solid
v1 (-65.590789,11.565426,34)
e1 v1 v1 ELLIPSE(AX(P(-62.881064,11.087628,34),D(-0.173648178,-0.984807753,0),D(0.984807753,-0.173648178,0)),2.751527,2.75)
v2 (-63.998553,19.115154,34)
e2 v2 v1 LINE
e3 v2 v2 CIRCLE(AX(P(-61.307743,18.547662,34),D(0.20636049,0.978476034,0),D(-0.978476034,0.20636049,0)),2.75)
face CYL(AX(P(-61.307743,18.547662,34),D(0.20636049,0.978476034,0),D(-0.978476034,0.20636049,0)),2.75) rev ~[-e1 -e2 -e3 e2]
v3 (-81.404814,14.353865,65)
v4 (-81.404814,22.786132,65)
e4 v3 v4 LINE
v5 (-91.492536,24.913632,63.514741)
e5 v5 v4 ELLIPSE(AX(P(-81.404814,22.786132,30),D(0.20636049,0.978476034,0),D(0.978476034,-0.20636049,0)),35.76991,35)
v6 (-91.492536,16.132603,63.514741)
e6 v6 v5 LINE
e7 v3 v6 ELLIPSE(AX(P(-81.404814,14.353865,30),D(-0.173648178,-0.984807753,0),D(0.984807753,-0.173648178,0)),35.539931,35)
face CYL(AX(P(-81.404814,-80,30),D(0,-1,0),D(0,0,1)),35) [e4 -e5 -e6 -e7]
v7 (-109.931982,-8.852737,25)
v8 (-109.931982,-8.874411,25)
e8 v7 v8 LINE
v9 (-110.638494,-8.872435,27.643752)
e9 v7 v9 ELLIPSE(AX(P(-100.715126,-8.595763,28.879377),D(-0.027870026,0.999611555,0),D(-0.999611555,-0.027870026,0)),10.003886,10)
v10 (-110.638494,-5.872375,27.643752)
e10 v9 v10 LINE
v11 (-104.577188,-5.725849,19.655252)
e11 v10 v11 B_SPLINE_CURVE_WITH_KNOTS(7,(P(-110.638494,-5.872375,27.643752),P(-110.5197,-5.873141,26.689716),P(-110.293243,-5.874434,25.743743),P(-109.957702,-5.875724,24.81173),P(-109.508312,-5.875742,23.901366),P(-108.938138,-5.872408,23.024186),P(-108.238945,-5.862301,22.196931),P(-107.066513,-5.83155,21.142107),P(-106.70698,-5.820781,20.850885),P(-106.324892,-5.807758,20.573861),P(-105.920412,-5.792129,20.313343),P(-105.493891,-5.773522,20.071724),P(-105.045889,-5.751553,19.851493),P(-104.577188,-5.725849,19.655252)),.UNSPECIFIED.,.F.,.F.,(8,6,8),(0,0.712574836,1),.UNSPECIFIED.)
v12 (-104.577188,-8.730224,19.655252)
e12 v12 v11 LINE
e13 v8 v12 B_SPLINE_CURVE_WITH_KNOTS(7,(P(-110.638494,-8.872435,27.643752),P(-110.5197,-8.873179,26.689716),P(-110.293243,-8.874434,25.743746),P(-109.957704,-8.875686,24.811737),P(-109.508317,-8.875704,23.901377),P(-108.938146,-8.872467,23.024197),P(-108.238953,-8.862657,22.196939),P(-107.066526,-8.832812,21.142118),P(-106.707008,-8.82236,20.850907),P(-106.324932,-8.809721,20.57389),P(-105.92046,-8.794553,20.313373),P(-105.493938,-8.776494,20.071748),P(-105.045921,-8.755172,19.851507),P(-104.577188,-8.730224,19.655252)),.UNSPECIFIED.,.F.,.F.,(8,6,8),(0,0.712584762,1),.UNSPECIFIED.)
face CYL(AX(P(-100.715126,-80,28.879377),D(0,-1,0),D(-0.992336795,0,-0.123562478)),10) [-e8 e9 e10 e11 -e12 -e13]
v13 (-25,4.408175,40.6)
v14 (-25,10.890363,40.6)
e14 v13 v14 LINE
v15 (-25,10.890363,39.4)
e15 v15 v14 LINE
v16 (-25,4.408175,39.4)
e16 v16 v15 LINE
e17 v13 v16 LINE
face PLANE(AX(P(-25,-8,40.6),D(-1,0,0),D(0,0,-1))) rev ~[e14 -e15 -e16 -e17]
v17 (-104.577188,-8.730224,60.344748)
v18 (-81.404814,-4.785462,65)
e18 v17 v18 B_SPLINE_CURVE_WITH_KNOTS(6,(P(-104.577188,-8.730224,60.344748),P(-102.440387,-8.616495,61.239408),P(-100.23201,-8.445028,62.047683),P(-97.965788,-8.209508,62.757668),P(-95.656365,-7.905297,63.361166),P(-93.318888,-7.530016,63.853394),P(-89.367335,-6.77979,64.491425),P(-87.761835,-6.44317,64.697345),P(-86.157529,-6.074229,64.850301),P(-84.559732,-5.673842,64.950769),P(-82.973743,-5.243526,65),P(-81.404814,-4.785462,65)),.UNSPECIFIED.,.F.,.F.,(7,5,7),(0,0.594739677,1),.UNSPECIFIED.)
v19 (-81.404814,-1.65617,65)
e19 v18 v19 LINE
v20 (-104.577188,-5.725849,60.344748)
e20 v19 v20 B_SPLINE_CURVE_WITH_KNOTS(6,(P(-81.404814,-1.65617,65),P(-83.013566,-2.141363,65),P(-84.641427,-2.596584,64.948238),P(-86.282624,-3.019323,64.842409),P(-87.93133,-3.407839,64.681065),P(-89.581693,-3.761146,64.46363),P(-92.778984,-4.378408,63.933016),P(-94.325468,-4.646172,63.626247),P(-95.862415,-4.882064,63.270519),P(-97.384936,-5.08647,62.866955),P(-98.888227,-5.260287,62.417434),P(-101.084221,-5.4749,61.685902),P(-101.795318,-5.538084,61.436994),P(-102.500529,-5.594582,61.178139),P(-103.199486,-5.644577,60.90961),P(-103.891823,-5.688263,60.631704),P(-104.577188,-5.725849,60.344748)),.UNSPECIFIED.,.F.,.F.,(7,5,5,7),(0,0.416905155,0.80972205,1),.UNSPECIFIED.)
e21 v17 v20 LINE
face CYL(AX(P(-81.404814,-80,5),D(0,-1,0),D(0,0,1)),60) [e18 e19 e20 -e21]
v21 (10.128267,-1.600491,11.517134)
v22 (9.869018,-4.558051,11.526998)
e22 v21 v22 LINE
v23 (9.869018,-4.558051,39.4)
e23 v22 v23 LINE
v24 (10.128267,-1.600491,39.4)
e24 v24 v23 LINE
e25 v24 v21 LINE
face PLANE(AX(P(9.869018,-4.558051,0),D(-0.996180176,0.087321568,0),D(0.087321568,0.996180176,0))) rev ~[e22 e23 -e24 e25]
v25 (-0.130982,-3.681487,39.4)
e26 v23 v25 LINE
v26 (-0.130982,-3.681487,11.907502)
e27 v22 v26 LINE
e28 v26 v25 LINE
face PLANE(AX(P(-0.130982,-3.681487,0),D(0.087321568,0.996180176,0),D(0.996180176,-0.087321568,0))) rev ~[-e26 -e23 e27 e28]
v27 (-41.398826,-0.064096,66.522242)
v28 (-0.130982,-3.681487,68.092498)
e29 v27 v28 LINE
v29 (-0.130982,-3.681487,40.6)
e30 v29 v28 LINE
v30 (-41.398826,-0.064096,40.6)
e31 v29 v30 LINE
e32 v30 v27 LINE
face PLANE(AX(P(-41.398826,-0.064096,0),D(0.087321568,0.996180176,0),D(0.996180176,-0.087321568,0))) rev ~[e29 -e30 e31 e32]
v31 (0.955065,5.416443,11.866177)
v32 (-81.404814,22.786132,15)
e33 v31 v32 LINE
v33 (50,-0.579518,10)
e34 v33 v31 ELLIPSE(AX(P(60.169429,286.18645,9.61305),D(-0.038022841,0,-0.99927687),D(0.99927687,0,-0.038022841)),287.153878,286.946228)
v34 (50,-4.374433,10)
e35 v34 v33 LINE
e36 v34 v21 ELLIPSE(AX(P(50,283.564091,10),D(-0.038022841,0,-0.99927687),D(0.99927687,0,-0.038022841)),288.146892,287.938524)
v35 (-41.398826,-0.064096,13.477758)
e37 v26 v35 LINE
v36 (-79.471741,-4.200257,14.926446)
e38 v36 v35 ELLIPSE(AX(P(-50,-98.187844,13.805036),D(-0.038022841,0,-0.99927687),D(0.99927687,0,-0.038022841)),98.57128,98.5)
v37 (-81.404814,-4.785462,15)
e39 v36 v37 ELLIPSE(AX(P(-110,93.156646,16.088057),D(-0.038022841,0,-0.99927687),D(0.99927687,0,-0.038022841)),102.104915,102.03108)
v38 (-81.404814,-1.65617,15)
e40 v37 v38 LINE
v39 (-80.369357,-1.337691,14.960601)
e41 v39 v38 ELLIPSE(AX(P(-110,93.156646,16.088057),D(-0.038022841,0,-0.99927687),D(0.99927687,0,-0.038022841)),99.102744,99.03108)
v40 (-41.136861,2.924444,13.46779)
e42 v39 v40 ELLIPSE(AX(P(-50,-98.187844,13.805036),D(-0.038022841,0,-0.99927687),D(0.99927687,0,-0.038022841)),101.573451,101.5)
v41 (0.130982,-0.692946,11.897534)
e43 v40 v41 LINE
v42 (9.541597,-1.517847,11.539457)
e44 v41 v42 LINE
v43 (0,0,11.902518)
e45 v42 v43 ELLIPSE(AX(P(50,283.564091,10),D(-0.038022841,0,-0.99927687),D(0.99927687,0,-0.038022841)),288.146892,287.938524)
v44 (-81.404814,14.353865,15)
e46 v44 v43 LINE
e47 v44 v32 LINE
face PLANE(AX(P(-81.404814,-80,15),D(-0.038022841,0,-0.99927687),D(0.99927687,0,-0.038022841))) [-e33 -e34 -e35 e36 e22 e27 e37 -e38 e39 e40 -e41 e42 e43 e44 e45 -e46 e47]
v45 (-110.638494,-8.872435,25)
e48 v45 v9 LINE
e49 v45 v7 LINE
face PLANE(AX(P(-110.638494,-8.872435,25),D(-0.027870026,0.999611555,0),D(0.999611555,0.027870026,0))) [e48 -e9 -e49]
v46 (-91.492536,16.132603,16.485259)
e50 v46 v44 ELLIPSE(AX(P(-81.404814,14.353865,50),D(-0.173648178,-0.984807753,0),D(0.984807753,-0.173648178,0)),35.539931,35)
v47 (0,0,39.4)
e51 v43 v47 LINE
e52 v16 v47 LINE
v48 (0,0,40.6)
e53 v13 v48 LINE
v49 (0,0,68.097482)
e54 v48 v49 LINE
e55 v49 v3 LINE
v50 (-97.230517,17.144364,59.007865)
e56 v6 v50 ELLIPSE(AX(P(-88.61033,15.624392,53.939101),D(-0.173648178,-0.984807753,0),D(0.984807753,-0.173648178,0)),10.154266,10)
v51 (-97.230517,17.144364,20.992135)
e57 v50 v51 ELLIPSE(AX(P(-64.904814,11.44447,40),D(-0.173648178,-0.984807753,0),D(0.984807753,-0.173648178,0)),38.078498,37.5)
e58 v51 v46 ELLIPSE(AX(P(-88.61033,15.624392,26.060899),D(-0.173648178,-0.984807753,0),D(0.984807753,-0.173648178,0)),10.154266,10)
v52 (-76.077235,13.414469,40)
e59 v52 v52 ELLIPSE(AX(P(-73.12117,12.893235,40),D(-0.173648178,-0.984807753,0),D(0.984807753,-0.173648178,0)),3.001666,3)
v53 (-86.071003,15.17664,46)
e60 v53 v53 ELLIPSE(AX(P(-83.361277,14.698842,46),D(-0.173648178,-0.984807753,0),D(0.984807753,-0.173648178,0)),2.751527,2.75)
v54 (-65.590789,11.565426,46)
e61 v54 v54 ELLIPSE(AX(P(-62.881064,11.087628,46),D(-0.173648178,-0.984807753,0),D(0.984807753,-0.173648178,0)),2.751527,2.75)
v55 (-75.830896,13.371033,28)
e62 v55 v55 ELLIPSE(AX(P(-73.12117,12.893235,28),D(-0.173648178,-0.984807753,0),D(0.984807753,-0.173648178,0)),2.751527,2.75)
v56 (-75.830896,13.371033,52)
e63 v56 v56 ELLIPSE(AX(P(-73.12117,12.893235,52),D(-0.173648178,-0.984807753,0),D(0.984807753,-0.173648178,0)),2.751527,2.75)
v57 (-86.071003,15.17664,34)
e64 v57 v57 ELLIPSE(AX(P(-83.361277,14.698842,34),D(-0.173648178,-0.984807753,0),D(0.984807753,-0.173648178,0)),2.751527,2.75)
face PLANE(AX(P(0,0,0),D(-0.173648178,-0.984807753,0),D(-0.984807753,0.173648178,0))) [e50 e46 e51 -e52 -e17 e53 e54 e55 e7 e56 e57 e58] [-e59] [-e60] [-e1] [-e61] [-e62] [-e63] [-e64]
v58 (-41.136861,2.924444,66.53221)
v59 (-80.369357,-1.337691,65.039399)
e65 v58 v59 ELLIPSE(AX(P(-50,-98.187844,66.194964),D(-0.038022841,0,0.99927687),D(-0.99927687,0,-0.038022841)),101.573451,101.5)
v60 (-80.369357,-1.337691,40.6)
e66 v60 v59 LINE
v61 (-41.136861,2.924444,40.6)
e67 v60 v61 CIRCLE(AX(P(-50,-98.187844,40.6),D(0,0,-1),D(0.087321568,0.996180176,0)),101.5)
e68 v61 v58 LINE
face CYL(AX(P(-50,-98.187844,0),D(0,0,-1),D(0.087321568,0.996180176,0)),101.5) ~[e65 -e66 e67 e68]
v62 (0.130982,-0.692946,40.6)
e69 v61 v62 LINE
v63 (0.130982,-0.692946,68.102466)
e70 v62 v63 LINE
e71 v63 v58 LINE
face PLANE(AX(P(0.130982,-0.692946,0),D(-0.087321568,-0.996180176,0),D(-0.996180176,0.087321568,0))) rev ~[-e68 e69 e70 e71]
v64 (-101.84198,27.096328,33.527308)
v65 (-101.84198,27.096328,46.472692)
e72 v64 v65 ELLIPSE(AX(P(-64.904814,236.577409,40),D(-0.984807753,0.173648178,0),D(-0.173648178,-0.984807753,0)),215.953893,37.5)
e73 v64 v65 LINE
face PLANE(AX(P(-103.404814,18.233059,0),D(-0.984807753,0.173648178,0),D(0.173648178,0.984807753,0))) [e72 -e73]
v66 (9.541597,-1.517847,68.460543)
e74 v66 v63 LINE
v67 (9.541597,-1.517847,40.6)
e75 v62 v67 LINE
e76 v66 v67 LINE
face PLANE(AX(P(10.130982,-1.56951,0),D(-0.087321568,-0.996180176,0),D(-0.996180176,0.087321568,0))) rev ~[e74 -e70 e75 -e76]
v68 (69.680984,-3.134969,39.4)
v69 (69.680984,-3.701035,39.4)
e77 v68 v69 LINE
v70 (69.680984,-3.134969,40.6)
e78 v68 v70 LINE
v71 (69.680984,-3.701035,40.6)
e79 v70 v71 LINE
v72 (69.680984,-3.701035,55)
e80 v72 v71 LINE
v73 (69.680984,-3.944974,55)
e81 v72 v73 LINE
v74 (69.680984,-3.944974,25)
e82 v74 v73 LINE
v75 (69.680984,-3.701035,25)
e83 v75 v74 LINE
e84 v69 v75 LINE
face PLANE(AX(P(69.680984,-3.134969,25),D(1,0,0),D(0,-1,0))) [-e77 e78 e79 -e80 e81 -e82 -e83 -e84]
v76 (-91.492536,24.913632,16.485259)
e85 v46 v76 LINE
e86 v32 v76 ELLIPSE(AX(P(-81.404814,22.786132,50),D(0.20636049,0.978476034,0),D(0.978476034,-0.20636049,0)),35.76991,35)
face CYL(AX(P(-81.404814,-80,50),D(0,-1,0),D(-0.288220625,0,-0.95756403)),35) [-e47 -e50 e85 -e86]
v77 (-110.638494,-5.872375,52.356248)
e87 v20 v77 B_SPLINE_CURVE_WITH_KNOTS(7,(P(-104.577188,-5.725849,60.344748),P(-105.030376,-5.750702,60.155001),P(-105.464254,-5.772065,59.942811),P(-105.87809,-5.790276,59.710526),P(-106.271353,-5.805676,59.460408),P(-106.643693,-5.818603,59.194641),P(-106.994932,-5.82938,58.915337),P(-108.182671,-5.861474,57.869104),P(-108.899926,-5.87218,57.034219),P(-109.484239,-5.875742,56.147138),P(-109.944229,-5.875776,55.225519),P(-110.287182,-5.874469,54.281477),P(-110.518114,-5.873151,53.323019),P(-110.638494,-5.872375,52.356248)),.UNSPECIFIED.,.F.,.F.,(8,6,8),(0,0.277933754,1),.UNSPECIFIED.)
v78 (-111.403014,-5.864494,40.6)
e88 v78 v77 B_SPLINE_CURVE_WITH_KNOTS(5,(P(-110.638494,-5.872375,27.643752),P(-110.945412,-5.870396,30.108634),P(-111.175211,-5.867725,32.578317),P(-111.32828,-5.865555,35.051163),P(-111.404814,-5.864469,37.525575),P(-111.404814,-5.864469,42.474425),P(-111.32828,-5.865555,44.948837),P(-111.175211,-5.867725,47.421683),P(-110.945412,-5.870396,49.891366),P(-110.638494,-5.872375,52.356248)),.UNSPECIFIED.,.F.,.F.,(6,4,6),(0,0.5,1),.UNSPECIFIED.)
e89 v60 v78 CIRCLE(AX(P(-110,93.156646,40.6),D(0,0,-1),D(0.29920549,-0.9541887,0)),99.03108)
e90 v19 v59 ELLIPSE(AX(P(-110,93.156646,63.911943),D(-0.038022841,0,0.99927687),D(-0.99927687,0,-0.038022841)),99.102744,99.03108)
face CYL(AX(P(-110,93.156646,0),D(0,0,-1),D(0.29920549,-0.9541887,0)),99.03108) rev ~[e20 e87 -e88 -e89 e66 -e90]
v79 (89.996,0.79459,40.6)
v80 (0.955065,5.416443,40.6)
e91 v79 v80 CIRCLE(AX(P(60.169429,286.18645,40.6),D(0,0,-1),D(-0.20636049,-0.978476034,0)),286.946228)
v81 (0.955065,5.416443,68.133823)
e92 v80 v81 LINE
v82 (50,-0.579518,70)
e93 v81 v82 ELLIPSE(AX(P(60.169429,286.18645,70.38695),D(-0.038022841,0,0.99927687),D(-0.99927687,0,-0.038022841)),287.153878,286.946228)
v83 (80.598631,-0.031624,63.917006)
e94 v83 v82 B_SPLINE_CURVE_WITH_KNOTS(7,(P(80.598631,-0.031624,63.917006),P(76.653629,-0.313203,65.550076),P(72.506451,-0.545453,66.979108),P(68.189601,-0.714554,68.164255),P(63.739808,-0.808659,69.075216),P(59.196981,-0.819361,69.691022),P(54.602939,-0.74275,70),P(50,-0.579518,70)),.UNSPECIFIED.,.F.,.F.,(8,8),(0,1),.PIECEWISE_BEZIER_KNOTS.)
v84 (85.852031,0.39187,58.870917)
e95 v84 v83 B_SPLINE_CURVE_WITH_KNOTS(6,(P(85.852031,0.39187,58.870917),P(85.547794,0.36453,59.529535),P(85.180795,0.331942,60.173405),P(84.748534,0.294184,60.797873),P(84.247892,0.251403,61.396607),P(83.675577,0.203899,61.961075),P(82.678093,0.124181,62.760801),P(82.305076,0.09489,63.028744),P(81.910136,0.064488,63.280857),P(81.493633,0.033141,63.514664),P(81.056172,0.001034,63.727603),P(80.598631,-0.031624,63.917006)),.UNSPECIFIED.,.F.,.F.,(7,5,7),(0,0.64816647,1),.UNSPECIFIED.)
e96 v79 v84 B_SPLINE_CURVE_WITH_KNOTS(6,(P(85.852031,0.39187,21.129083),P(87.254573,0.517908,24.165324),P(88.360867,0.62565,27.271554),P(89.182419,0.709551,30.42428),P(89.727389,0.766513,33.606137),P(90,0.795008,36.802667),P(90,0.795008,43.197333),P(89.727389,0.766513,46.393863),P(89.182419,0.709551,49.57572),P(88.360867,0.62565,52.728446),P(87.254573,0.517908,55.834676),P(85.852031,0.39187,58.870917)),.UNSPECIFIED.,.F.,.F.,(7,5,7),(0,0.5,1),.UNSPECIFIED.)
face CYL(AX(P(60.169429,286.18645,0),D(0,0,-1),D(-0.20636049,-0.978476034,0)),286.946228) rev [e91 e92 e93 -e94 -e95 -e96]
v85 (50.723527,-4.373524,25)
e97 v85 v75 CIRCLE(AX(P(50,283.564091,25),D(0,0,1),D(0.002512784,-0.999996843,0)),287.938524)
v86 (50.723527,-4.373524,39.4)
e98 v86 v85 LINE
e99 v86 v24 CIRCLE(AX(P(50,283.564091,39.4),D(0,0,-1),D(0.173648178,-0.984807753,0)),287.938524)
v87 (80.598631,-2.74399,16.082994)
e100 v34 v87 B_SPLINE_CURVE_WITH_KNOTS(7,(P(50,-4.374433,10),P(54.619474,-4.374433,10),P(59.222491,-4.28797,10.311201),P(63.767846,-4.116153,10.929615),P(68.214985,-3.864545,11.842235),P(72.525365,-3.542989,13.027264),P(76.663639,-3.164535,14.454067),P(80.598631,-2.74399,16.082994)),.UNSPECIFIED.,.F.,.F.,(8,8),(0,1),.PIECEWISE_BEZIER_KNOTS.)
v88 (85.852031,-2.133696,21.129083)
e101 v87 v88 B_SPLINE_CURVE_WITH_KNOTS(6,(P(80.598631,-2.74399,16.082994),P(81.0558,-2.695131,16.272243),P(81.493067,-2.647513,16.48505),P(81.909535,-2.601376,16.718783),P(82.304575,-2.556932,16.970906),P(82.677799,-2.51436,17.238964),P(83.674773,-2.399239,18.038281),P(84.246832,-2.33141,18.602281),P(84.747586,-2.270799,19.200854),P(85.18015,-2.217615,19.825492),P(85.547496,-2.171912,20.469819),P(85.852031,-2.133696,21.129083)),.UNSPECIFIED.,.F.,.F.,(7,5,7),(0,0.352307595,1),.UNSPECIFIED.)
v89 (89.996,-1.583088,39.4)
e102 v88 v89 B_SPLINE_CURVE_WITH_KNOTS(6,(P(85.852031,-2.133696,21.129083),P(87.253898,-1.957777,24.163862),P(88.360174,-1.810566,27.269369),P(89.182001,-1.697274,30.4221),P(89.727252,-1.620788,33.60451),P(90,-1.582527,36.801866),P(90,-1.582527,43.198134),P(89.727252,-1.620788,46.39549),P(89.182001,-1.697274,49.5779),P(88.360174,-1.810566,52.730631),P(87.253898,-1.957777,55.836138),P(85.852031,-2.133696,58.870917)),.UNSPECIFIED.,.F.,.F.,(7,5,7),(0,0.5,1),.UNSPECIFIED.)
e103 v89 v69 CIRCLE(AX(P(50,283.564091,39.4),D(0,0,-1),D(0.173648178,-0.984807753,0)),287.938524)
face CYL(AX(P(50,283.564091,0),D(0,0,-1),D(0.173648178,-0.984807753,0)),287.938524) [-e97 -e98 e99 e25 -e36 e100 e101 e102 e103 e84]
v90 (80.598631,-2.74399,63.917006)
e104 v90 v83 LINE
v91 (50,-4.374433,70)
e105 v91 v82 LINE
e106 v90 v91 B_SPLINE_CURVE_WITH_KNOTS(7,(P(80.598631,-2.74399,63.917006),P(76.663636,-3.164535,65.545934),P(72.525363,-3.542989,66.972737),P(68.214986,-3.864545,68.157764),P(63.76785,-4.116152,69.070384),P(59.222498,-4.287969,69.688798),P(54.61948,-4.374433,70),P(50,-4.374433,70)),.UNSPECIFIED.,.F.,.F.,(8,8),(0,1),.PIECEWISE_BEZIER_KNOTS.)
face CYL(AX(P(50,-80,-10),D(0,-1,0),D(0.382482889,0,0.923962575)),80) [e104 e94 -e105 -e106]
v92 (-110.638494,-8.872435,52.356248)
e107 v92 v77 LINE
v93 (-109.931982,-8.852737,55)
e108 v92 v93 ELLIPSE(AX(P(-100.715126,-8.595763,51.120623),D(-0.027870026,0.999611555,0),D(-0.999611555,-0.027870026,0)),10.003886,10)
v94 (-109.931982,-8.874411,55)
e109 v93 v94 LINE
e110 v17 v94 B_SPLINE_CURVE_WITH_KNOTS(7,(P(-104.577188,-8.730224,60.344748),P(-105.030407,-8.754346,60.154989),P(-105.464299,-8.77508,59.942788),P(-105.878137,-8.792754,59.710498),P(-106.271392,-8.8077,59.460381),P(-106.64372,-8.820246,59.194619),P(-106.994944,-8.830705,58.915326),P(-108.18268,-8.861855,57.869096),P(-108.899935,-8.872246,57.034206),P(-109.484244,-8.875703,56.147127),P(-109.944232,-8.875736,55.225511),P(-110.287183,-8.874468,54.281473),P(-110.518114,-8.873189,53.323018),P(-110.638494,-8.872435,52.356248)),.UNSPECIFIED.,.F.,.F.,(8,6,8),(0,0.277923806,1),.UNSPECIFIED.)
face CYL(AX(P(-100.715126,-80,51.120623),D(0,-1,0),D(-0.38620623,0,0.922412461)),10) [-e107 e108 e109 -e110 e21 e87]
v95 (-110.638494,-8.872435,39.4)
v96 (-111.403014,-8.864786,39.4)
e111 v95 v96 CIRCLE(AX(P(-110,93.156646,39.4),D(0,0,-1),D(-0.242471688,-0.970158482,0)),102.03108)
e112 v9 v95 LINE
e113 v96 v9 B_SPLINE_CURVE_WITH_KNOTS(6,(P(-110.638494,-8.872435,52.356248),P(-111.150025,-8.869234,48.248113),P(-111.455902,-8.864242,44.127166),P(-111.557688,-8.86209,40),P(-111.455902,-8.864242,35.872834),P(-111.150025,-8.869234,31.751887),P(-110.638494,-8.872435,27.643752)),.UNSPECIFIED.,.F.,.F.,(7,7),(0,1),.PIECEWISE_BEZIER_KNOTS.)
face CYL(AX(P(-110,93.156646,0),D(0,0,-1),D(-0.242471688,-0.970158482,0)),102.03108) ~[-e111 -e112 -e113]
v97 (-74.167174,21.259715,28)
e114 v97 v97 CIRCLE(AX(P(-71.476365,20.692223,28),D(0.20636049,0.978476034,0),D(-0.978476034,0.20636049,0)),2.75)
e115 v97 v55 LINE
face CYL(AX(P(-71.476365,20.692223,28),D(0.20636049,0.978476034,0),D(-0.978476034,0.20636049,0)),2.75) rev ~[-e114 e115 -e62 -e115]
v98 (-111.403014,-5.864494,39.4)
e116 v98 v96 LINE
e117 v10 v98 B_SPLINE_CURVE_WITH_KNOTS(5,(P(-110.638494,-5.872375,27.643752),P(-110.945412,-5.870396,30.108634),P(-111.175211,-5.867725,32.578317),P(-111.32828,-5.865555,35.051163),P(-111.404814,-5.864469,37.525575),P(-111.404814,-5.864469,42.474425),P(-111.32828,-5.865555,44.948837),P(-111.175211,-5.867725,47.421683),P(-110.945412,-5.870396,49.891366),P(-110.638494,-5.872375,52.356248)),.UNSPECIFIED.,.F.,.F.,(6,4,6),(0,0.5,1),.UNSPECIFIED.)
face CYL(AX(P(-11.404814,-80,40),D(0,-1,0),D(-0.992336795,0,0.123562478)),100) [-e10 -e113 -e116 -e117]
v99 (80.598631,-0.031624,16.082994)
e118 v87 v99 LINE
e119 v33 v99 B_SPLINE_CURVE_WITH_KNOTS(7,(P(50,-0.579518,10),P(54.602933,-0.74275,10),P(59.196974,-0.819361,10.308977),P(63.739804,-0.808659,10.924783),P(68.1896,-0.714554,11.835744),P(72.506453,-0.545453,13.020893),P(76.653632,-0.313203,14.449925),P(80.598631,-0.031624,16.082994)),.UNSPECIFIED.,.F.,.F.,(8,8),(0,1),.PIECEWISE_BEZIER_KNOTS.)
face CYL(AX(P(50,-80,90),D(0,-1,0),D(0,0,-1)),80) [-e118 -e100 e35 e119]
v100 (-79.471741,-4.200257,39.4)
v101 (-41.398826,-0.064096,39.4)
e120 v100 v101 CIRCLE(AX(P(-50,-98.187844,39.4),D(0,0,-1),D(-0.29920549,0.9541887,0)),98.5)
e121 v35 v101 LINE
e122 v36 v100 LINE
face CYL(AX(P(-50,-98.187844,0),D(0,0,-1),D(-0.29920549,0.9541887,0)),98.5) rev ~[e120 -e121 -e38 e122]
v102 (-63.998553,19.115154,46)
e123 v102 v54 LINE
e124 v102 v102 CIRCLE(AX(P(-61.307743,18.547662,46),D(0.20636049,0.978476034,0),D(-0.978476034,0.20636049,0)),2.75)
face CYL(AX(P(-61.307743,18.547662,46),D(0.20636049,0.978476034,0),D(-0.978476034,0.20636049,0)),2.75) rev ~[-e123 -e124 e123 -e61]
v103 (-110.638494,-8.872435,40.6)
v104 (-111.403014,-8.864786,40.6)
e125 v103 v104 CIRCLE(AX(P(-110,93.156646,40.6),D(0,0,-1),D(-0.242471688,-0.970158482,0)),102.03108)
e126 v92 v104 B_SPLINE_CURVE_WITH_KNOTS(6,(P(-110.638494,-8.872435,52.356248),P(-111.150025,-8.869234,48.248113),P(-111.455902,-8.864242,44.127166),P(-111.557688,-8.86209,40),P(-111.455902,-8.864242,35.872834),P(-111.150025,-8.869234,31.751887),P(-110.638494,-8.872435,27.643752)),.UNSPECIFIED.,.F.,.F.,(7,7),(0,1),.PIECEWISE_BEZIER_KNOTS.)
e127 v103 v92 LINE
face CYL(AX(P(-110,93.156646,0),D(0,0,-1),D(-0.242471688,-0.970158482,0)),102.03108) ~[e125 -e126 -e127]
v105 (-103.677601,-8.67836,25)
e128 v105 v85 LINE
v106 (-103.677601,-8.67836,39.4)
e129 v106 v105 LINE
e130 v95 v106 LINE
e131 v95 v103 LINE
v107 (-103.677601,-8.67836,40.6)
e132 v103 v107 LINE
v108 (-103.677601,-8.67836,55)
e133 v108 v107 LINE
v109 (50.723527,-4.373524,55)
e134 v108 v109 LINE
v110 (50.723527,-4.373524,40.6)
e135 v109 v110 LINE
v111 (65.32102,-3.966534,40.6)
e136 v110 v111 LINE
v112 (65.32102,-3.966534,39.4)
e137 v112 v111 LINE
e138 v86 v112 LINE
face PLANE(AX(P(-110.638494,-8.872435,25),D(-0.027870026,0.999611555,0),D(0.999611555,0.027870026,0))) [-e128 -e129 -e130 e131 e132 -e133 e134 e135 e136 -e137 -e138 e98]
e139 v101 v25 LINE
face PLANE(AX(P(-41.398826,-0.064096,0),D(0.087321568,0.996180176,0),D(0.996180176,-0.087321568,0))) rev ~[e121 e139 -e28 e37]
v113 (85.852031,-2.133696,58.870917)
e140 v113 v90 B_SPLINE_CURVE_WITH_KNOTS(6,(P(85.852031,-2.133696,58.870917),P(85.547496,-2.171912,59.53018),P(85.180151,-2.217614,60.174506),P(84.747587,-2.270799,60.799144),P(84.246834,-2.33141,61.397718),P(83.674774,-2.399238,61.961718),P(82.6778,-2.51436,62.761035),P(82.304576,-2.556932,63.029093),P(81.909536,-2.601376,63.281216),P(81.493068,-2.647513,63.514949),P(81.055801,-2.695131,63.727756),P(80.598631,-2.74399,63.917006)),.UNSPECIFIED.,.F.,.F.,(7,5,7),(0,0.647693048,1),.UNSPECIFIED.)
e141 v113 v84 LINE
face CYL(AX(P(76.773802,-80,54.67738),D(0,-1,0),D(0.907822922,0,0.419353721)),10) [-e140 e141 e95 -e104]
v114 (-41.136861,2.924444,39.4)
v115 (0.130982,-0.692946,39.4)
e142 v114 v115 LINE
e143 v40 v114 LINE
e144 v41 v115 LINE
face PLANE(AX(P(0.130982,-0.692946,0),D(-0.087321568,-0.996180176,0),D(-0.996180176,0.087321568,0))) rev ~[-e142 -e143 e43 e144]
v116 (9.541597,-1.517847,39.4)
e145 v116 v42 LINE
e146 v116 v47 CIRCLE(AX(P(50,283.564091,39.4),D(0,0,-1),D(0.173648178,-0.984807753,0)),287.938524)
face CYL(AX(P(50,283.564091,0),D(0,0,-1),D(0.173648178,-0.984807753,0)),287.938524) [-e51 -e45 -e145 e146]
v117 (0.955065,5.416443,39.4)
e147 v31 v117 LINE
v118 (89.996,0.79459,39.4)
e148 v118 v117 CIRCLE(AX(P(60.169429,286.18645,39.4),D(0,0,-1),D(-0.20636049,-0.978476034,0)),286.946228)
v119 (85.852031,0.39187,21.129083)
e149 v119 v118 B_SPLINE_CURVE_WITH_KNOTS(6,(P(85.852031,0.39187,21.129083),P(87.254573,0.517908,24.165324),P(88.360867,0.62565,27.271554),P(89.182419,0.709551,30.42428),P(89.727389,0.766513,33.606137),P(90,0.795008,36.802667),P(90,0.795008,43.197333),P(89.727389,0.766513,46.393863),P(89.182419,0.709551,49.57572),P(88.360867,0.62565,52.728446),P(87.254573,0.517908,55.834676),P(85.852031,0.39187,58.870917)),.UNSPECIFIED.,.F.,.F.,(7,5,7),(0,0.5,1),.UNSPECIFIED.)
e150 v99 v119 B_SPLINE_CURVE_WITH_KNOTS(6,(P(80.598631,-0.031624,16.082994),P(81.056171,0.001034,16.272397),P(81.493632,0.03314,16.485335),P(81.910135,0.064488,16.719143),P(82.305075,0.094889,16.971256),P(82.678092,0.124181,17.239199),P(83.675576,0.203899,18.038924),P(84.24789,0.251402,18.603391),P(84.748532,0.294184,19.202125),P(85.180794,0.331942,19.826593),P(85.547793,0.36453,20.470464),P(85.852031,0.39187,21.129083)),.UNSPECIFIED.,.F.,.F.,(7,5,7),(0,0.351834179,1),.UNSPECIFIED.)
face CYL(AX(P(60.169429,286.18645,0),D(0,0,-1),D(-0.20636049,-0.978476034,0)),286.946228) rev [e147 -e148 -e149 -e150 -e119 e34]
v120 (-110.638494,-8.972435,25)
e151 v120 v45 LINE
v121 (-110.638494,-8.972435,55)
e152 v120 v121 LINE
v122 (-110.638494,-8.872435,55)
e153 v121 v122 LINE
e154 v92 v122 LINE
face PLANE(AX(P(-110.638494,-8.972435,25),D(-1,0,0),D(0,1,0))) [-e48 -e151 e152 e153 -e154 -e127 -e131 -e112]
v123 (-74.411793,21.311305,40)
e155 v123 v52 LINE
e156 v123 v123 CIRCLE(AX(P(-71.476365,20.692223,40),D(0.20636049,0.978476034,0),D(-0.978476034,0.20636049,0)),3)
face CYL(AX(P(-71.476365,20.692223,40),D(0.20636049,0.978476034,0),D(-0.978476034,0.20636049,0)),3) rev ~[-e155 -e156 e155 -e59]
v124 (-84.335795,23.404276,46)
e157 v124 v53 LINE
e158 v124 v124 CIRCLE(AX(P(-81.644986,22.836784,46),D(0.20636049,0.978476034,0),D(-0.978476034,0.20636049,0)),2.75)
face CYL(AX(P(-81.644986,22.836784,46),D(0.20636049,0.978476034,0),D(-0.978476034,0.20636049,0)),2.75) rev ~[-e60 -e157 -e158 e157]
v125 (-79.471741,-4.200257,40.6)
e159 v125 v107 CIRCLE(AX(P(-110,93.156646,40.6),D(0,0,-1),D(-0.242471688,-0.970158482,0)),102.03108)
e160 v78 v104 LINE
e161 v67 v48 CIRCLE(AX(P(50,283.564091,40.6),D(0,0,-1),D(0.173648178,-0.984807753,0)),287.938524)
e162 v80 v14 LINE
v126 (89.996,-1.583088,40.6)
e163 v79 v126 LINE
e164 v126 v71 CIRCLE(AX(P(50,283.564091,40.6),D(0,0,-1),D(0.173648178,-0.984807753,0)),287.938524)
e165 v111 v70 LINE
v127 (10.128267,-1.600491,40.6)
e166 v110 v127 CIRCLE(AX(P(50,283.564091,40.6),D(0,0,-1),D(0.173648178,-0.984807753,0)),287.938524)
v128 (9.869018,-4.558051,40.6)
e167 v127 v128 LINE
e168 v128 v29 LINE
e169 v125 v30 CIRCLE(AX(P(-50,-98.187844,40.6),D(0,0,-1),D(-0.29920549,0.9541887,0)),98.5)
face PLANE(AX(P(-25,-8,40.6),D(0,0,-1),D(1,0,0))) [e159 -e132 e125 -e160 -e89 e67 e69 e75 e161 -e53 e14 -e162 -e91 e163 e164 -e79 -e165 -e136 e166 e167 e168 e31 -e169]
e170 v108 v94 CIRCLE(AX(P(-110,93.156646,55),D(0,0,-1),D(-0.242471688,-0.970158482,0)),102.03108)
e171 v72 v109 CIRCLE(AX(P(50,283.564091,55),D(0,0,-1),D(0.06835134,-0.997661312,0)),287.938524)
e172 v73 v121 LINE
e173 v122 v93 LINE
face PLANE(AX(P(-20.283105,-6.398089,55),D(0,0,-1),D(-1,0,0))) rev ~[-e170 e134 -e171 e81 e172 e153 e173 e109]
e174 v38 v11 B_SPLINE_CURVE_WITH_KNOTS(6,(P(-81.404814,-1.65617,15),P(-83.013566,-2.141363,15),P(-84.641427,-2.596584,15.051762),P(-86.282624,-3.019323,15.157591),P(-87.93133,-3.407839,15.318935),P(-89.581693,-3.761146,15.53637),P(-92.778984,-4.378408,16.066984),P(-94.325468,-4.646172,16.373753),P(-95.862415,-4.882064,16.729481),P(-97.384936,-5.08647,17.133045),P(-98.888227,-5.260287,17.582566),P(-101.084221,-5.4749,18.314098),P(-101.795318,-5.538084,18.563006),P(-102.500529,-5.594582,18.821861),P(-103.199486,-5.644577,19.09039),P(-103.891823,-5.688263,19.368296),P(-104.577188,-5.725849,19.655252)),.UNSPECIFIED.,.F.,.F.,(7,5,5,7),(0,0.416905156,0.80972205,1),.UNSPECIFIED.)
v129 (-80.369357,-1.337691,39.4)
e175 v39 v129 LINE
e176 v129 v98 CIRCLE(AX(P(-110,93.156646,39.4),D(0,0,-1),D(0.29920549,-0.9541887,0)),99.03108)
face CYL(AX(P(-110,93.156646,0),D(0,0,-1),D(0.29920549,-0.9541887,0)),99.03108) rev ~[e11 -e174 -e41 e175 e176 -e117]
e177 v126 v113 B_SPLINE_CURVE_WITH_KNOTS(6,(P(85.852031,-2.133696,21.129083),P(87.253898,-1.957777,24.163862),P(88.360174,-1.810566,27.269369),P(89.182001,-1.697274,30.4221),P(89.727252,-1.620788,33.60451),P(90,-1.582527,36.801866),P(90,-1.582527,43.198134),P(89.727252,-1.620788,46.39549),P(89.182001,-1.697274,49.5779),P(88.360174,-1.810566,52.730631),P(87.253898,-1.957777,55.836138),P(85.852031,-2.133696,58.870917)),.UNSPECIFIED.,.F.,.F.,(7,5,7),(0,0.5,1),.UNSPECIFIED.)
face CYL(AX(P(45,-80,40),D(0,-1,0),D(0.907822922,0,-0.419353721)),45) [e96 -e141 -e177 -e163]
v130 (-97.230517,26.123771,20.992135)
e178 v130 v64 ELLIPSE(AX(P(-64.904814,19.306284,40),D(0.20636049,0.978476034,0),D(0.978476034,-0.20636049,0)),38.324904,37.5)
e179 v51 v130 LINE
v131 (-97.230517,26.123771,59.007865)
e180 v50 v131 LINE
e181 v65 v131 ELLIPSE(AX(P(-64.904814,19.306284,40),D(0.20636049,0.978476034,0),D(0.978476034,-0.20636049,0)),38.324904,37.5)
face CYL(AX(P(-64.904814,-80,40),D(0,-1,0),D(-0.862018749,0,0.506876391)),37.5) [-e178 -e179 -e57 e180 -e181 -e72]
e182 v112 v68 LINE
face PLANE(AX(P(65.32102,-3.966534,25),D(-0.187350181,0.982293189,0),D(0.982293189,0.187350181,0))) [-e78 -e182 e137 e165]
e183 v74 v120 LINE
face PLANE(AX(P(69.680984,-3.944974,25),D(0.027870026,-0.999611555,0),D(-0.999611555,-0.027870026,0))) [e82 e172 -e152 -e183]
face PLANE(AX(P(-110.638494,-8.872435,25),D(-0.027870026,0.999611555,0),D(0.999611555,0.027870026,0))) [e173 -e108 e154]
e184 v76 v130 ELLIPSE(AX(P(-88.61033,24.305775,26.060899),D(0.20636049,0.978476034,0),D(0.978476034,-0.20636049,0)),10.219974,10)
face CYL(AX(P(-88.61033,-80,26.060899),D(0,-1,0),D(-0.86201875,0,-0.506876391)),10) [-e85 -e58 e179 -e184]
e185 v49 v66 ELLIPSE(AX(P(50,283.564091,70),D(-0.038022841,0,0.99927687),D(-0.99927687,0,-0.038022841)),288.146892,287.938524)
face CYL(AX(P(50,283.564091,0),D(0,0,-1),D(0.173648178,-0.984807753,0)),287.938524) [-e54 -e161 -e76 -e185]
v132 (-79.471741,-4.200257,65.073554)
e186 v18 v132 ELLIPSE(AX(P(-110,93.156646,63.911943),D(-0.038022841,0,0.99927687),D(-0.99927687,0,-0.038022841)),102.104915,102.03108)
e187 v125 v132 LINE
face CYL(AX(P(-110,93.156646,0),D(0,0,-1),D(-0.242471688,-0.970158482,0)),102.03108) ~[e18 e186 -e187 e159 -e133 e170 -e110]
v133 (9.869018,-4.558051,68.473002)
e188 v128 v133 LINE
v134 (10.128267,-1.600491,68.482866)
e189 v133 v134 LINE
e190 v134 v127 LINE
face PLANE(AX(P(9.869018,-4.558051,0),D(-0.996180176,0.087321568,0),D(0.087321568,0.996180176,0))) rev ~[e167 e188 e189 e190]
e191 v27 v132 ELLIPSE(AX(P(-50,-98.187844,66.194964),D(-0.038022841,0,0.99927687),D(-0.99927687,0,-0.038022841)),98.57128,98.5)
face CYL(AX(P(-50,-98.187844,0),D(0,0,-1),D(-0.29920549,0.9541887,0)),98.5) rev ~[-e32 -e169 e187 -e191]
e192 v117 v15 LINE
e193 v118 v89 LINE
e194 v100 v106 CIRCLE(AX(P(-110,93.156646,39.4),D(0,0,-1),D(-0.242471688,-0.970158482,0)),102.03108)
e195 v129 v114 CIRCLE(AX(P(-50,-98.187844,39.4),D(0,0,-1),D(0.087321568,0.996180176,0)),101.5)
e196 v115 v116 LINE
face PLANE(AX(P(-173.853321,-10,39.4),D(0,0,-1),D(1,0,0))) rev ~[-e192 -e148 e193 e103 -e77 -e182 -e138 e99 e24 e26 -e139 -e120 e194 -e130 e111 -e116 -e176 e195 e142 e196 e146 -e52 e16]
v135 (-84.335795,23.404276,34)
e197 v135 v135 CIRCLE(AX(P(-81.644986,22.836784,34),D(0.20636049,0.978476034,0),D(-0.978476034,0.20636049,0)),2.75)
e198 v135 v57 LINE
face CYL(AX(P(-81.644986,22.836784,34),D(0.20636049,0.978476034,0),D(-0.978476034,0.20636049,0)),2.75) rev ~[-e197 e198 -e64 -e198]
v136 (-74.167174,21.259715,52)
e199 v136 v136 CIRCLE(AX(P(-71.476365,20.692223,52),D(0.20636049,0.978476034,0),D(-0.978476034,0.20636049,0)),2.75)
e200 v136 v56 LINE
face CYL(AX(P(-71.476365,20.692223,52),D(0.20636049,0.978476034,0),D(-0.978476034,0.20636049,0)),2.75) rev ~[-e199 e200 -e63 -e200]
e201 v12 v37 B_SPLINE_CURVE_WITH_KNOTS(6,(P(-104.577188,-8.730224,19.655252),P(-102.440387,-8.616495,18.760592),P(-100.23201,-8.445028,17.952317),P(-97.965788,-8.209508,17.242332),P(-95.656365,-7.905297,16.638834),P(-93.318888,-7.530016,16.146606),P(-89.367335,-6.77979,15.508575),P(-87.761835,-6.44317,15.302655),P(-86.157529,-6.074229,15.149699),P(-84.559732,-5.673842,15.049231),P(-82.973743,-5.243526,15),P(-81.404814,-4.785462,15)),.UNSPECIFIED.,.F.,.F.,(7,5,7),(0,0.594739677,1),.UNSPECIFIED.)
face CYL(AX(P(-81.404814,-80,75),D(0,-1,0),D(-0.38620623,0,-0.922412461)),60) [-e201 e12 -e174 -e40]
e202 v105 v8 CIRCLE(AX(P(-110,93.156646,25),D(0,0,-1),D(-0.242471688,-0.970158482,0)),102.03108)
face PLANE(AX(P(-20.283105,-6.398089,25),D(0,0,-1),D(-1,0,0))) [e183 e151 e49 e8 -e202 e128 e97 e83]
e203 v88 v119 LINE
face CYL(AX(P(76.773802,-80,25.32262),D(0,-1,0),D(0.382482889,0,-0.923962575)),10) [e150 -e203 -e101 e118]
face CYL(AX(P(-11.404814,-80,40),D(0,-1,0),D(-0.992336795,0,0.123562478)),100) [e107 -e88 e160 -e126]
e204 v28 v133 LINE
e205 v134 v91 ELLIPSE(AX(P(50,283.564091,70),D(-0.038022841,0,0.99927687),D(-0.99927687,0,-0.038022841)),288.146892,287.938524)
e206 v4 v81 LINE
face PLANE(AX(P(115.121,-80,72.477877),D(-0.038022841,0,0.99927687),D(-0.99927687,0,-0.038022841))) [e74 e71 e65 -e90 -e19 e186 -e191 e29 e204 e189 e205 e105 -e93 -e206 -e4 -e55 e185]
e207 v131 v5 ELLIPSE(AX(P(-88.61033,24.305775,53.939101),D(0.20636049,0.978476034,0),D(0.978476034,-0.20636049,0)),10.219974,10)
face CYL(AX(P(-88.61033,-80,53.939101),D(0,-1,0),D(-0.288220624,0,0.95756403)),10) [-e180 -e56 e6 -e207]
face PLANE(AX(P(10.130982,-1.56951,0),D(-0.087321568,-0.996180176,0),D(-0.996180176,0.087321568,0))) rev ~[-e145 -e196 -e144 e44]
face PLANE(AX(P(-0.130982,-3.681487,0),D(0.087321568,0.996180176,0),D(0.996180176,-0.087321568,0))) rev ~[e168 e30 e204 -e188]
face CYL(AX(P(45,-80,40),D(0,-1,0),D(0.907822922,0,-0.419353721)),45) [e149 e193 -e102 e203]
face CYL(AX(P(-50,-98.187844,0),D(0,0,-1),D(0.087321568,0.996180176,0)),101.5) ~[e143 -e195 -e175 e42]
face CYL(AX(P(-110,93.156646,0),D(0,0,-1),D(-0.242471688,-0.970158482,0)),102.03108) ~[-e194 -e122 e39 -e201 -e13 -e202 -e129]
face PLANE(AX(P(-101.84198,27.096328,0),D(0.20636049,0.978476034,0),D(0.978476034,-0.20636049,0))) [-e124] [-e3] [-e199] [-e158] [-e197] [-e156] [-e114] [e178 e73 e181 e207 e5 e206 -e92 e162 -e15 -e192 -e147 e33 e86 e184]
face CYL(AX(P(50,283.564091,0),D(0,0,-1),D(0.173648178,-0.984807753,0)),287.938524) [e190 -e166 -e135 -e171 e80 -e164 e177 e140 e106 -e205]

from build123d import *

# Parameters (mm, degrees)
EXTRUDE_1_DEPTH          = 80
CUT_EXTRUDE_1_DEPTH      = 80
CUT_EXTRUDE_1_DEPTH_BACK = 80
SKETCH_2_OUTSIDE_W       = 249.571
SKETCH_2_OUTSIDE_H       = 126.166
EXTRUDE_2_DEPTH          = 80
SKETCH_3_R               = 3
SKETCH_3_R_2             = 2.75
CUT_EXTRUDE_2_DEPTH      = 9
CUT_EXTRUDE_3_DEPTH      = 16
CUT_EXTRUDE_3_DEPTH_BACK = 8
SKETCH_4_W               = 130
SKETCH_4_H               = 1.2
CUT_EXTRUDE_4_DEPTH      = 80
CUT_EXTRUDE_4_DEPTH_BACK = 80
SKETCH_6_OUTSIDE_W       = 274.986
SKETCH_6_OUTSIDE_H       = 130.25
CUT_EXTRUDE_5_DEPTH      = 4
CUT_EXTRUDE_5_DEPTH_BACK = 10
SKETCH_7_W               = 148.853321433
SKETCH_7_H               = 1.2
EXTRUDE_START            = 25
EXTRUDE_3_DEPTH          = 30


with BuildPart() as part:
    # 草图1 → 凸台-拉伸1 (new body)
    with BuildSketch(Plane.XY):
        with BuildLine():
            Line((-103.404814066, 18.233058655), (0, 0))
            ThreePointArc((0, 0), (50, -4.374433176), (100, 0))
            Line((100, 0), (99.652703645, 1.969615506))
            ThreePointArc((99.652703645, 1.969615506), (50.154483855, -0.584955192), (0.955064977, 5.416442642))
            Line((0.955064977, 5.416442642), (-101.841980467, 27.096328432))
            Line((-101.841980467, 27.096328432), (-103.404814066, 18.233058655))
        make_face()
    extrude(amount=EXTRUDE_1_DEPTH)

    # 草图2 outside → 切除-拉伸1 (cut, two sides: drawn at the far end of the back side and taken through both)
    with BuildSketch(Plane(origin=(0, 0, 0), x_dir=(1, 0, 0), z_dir=(0, 1, 0)).offset(-CUT_EXTRUDE_1_DEPTH_BACK)):
        with Locations((-1.7025, -40)):
            Rectangle(SKETCH_2_OUTSIDE_W, SKETCH_2_OUTSIDE_H)
        with BuildLine():
            Line((-81.404814066, -15), (50, -10))
            ThreePointArc((50, -10), (65.598710239, -11.535484205), (80.598631148, -16.082994028))
            ThreePointArc((80.598631148, -16.082994028), (83.701137928, -18.110683802), (85.85203147, -21.129082567))
            ThreePointArc((85.85203147, -21.129082567), (90, -40), (85.85203147, -58.870917433))
            ThreePointArc((85.85203147, -58.870917433), (83.701137928, -61.889316198), (80.598631148, -63.917005972))
            ThreePointArc((80.598631148, -63.917005972), (65.598710239, -68.464515795), (50, -70))
            Line((50, -70), (-81.404814066, -65))
            ThreePointArc((-81.404814066, -65), (-86.503052151, -64.626694449), (-91.492535917, -63.514741053))
            ThreePointArc((-91.492535917, -63.514741053), (-94.787242262, -61.803307698), (-97.230517167, -59.007864662))
            ThreePointArc((-97.230517167, -59.007864662), (-102.404814066, -40), (-97.230517167, -20.992135338))
            ThreePointArc((-97.230517167, -20.992135338), (-94.787242262, -18.196692302), (-91.492535917, -16.485258947))
            ThreePointArc((-91.492535917, -16.485258947), (-86.503052151, -15.373305551), (-81.404814066, -15))
        make_face(mode=Mode.SUBTRACT)
    extrude(amount=CUT_EXTRUDE_1_DEPTH + CUT_EXTRUDE_1_DEPTH_BACK, mode=Mode.SUBTRACT)

    # 草图5 → 凸台-拉伸2 (add)
    with BuildSketch(Plane.XY):
        with BuildLine():
            Line((0.130982352, -0.692946324), (-41.136860859, 2.924444243))
            ThreePointArc((-41.136860859, 2.924444243), (-60.962244436, 2.718445526), (-80.369357278, -1.337690645))
            ThreePointArc((-80.369357278, -1.337690645), (-107.081623518, -5.831422582), (-134.01223301, -2.919195453))
            Line((-134.01223301, -2.919195453), (-134.739648073, -5.8296709))
            ThreePointArc((-134.739648073, -5.8296709), (-106.993215622, -8.83011964), (-79.471740806, -4.200256744))
            ThreePointArc((-79.471740806, -4.200256744), (-60.638237212, -0.264006371), (-41.398825562, -0.064096286))
            Line((-41.398825562, -0.064096286), (-0.130982352, -3.681486853))
            Line((-0.130982352, -3.681486853), (9.869017648, -4.558050852))
            Line((9.869017648, -4.558050852), (10.130982352, -1.569510322))
            Line((10.130982352, -1.569510322), (0.130982352, -0.692946324))
        make_face()
    extrude(amount=EXTRUDE_2_DEPTH)

    # 草图3 → 切除-拉伸2 (cut)
    with BuildSketch(Plane(origin=(1.134352673, 5.378630886, 0), x_dir=(0.9784760335424555, -0.206360489878813, 0), z_dir=(0.206360489878813, 0.9784760335424555, 0))):
        with Locations((-74.207967172, -40)):
            Circle(SKETCH_3_R)
        with Locations((-74.207967172, -28)):
            Circle(SKETCH_3_R_2)
        with Locations((-63.815662327, -34)):
            Circle(SKETCH_3_R_2)
        with Locations((-63.815662327, -46)):
            Circle(SKETCH_3_R_2)
        with Locations((-74.207967172, -52)):
            Circle(SKETCH_3_R_2)
        with Locations((-84.600272018, -46)):
            Circle(SKETCH_3_R_2)
        with Locations((-84.600272018, -34)):
            Circle(SKETCH_3_R_2)
    extrude(amount=-CUT_EXTRUDE_2_DEPTH, mode=Mode.SUBTRACT)

    # 草图4 → 切除-拉伸3 (cut, two sides: drawn at the far end of the back side and taken through both)
    with BuildSketch(Plane(origin=(0, 0, 0), x_dir=(1, 0, 0), z_dir=(0, 1, 0)).offset(-CUT_EXTRUDE_3_DEPTH_BACK)):
        with Locations((40, -40)):
            Rectangle(SKETCH_4_W, SKETCH_4_H)
    extrude(amount=CUT_EXTRUDE_3_DEPTH + CUT_EXTRUDE_3_DEPTH_BACK, mode=Mode.SUBTRACT)

    # 草图6 outside → 切除-拉伸4 (cut, two sides: drawn at the far end of the back side and taken through both)
    with BuildSketch(Plane(origin=(0, 0, 0), x_dir=(1, 0, 0), z_dir=(0, 1, 0)).offset(-CUT_EXTRUDE_4_DEPTH_BACK)):
        with Locations((-22.372, -40)):
            Rectangle(SKETCH_6_OUTSIDE_W, SKETCH_6_OUTSIDE_H)
        with BuildLine():
            Line((136.18747393, -6.720535905), (136.18747393, -73.279464095))
            Line((136.18747393, -73.279464095), (-81.404814066, -65))
            ThreePointArc((-81.404814066, -65), (-93.222494497, -63.824675343), (-104.577187887, -60.344747642))
            ThreePointArc((-104.577187887, -60.344747642), (-108.681527165, -57.165161548), (-110.63849353, -52.356247816))
            ThreePointArc((-110.63849353, -52.356247816), (-111.404814066, -40), (-110.63849353, -27.643752184))
            ThreePointArc((-110.63849353, -27.643752184), (-108.681527165, -22.834838452), (-104.577187887, -19.655252358))
            ThreePointArc((-104.577187887, -19.655252358), (-93.222494497, -16.175324657), (-81.404814066, -15))
            Line((-81.404814066, -15), (136.18747393, -6.720535905))
        make_face(mode=Mode.SUBTRACT)
    extrude(amount=CUT_EXTRUDE_4_DEPTH + CUT_EXTRUDE_4_DEPTH_BACK, mode=Mode.SUBTRACT)

    # 草图7 → 切除-拉伸5 (cut, two sides: drawn at the far end of the back side and taken through both)
    with BuildSketch(Plane(origin=(0, 0, 0), x_dir=(1, 0, 0), z_dir=(0, 1, 0)).offset(-CUT_EXTRUDE_5_DEPTH_BACK)):
        with Locations((-99.426660717, -40)):
            Rectangle(SKETCH_7_W, SKETCH_7_H)
    extrude(amount=CUT_EXTRUDE_5_DEPTH + CUT_EXTRUDE_5_DEPTH_BACK, mode=Mode.SUBTRACT)

    # 草图8 → 凸台-拉伸3 (add)
    with BuildSketch(Plane.XY.offset(EXTRUDE_START)):
        Polygon((-110.63849353, -8.872435364), (65.321019644, -3.966533563), (69.680983926, -3.134969109), (69.680983926, -3.944974028), (-110.63849353, -8.972435364), align=None)
    extrude(amount=EXTRUDE_3_DEPTH)


solid = part.part
